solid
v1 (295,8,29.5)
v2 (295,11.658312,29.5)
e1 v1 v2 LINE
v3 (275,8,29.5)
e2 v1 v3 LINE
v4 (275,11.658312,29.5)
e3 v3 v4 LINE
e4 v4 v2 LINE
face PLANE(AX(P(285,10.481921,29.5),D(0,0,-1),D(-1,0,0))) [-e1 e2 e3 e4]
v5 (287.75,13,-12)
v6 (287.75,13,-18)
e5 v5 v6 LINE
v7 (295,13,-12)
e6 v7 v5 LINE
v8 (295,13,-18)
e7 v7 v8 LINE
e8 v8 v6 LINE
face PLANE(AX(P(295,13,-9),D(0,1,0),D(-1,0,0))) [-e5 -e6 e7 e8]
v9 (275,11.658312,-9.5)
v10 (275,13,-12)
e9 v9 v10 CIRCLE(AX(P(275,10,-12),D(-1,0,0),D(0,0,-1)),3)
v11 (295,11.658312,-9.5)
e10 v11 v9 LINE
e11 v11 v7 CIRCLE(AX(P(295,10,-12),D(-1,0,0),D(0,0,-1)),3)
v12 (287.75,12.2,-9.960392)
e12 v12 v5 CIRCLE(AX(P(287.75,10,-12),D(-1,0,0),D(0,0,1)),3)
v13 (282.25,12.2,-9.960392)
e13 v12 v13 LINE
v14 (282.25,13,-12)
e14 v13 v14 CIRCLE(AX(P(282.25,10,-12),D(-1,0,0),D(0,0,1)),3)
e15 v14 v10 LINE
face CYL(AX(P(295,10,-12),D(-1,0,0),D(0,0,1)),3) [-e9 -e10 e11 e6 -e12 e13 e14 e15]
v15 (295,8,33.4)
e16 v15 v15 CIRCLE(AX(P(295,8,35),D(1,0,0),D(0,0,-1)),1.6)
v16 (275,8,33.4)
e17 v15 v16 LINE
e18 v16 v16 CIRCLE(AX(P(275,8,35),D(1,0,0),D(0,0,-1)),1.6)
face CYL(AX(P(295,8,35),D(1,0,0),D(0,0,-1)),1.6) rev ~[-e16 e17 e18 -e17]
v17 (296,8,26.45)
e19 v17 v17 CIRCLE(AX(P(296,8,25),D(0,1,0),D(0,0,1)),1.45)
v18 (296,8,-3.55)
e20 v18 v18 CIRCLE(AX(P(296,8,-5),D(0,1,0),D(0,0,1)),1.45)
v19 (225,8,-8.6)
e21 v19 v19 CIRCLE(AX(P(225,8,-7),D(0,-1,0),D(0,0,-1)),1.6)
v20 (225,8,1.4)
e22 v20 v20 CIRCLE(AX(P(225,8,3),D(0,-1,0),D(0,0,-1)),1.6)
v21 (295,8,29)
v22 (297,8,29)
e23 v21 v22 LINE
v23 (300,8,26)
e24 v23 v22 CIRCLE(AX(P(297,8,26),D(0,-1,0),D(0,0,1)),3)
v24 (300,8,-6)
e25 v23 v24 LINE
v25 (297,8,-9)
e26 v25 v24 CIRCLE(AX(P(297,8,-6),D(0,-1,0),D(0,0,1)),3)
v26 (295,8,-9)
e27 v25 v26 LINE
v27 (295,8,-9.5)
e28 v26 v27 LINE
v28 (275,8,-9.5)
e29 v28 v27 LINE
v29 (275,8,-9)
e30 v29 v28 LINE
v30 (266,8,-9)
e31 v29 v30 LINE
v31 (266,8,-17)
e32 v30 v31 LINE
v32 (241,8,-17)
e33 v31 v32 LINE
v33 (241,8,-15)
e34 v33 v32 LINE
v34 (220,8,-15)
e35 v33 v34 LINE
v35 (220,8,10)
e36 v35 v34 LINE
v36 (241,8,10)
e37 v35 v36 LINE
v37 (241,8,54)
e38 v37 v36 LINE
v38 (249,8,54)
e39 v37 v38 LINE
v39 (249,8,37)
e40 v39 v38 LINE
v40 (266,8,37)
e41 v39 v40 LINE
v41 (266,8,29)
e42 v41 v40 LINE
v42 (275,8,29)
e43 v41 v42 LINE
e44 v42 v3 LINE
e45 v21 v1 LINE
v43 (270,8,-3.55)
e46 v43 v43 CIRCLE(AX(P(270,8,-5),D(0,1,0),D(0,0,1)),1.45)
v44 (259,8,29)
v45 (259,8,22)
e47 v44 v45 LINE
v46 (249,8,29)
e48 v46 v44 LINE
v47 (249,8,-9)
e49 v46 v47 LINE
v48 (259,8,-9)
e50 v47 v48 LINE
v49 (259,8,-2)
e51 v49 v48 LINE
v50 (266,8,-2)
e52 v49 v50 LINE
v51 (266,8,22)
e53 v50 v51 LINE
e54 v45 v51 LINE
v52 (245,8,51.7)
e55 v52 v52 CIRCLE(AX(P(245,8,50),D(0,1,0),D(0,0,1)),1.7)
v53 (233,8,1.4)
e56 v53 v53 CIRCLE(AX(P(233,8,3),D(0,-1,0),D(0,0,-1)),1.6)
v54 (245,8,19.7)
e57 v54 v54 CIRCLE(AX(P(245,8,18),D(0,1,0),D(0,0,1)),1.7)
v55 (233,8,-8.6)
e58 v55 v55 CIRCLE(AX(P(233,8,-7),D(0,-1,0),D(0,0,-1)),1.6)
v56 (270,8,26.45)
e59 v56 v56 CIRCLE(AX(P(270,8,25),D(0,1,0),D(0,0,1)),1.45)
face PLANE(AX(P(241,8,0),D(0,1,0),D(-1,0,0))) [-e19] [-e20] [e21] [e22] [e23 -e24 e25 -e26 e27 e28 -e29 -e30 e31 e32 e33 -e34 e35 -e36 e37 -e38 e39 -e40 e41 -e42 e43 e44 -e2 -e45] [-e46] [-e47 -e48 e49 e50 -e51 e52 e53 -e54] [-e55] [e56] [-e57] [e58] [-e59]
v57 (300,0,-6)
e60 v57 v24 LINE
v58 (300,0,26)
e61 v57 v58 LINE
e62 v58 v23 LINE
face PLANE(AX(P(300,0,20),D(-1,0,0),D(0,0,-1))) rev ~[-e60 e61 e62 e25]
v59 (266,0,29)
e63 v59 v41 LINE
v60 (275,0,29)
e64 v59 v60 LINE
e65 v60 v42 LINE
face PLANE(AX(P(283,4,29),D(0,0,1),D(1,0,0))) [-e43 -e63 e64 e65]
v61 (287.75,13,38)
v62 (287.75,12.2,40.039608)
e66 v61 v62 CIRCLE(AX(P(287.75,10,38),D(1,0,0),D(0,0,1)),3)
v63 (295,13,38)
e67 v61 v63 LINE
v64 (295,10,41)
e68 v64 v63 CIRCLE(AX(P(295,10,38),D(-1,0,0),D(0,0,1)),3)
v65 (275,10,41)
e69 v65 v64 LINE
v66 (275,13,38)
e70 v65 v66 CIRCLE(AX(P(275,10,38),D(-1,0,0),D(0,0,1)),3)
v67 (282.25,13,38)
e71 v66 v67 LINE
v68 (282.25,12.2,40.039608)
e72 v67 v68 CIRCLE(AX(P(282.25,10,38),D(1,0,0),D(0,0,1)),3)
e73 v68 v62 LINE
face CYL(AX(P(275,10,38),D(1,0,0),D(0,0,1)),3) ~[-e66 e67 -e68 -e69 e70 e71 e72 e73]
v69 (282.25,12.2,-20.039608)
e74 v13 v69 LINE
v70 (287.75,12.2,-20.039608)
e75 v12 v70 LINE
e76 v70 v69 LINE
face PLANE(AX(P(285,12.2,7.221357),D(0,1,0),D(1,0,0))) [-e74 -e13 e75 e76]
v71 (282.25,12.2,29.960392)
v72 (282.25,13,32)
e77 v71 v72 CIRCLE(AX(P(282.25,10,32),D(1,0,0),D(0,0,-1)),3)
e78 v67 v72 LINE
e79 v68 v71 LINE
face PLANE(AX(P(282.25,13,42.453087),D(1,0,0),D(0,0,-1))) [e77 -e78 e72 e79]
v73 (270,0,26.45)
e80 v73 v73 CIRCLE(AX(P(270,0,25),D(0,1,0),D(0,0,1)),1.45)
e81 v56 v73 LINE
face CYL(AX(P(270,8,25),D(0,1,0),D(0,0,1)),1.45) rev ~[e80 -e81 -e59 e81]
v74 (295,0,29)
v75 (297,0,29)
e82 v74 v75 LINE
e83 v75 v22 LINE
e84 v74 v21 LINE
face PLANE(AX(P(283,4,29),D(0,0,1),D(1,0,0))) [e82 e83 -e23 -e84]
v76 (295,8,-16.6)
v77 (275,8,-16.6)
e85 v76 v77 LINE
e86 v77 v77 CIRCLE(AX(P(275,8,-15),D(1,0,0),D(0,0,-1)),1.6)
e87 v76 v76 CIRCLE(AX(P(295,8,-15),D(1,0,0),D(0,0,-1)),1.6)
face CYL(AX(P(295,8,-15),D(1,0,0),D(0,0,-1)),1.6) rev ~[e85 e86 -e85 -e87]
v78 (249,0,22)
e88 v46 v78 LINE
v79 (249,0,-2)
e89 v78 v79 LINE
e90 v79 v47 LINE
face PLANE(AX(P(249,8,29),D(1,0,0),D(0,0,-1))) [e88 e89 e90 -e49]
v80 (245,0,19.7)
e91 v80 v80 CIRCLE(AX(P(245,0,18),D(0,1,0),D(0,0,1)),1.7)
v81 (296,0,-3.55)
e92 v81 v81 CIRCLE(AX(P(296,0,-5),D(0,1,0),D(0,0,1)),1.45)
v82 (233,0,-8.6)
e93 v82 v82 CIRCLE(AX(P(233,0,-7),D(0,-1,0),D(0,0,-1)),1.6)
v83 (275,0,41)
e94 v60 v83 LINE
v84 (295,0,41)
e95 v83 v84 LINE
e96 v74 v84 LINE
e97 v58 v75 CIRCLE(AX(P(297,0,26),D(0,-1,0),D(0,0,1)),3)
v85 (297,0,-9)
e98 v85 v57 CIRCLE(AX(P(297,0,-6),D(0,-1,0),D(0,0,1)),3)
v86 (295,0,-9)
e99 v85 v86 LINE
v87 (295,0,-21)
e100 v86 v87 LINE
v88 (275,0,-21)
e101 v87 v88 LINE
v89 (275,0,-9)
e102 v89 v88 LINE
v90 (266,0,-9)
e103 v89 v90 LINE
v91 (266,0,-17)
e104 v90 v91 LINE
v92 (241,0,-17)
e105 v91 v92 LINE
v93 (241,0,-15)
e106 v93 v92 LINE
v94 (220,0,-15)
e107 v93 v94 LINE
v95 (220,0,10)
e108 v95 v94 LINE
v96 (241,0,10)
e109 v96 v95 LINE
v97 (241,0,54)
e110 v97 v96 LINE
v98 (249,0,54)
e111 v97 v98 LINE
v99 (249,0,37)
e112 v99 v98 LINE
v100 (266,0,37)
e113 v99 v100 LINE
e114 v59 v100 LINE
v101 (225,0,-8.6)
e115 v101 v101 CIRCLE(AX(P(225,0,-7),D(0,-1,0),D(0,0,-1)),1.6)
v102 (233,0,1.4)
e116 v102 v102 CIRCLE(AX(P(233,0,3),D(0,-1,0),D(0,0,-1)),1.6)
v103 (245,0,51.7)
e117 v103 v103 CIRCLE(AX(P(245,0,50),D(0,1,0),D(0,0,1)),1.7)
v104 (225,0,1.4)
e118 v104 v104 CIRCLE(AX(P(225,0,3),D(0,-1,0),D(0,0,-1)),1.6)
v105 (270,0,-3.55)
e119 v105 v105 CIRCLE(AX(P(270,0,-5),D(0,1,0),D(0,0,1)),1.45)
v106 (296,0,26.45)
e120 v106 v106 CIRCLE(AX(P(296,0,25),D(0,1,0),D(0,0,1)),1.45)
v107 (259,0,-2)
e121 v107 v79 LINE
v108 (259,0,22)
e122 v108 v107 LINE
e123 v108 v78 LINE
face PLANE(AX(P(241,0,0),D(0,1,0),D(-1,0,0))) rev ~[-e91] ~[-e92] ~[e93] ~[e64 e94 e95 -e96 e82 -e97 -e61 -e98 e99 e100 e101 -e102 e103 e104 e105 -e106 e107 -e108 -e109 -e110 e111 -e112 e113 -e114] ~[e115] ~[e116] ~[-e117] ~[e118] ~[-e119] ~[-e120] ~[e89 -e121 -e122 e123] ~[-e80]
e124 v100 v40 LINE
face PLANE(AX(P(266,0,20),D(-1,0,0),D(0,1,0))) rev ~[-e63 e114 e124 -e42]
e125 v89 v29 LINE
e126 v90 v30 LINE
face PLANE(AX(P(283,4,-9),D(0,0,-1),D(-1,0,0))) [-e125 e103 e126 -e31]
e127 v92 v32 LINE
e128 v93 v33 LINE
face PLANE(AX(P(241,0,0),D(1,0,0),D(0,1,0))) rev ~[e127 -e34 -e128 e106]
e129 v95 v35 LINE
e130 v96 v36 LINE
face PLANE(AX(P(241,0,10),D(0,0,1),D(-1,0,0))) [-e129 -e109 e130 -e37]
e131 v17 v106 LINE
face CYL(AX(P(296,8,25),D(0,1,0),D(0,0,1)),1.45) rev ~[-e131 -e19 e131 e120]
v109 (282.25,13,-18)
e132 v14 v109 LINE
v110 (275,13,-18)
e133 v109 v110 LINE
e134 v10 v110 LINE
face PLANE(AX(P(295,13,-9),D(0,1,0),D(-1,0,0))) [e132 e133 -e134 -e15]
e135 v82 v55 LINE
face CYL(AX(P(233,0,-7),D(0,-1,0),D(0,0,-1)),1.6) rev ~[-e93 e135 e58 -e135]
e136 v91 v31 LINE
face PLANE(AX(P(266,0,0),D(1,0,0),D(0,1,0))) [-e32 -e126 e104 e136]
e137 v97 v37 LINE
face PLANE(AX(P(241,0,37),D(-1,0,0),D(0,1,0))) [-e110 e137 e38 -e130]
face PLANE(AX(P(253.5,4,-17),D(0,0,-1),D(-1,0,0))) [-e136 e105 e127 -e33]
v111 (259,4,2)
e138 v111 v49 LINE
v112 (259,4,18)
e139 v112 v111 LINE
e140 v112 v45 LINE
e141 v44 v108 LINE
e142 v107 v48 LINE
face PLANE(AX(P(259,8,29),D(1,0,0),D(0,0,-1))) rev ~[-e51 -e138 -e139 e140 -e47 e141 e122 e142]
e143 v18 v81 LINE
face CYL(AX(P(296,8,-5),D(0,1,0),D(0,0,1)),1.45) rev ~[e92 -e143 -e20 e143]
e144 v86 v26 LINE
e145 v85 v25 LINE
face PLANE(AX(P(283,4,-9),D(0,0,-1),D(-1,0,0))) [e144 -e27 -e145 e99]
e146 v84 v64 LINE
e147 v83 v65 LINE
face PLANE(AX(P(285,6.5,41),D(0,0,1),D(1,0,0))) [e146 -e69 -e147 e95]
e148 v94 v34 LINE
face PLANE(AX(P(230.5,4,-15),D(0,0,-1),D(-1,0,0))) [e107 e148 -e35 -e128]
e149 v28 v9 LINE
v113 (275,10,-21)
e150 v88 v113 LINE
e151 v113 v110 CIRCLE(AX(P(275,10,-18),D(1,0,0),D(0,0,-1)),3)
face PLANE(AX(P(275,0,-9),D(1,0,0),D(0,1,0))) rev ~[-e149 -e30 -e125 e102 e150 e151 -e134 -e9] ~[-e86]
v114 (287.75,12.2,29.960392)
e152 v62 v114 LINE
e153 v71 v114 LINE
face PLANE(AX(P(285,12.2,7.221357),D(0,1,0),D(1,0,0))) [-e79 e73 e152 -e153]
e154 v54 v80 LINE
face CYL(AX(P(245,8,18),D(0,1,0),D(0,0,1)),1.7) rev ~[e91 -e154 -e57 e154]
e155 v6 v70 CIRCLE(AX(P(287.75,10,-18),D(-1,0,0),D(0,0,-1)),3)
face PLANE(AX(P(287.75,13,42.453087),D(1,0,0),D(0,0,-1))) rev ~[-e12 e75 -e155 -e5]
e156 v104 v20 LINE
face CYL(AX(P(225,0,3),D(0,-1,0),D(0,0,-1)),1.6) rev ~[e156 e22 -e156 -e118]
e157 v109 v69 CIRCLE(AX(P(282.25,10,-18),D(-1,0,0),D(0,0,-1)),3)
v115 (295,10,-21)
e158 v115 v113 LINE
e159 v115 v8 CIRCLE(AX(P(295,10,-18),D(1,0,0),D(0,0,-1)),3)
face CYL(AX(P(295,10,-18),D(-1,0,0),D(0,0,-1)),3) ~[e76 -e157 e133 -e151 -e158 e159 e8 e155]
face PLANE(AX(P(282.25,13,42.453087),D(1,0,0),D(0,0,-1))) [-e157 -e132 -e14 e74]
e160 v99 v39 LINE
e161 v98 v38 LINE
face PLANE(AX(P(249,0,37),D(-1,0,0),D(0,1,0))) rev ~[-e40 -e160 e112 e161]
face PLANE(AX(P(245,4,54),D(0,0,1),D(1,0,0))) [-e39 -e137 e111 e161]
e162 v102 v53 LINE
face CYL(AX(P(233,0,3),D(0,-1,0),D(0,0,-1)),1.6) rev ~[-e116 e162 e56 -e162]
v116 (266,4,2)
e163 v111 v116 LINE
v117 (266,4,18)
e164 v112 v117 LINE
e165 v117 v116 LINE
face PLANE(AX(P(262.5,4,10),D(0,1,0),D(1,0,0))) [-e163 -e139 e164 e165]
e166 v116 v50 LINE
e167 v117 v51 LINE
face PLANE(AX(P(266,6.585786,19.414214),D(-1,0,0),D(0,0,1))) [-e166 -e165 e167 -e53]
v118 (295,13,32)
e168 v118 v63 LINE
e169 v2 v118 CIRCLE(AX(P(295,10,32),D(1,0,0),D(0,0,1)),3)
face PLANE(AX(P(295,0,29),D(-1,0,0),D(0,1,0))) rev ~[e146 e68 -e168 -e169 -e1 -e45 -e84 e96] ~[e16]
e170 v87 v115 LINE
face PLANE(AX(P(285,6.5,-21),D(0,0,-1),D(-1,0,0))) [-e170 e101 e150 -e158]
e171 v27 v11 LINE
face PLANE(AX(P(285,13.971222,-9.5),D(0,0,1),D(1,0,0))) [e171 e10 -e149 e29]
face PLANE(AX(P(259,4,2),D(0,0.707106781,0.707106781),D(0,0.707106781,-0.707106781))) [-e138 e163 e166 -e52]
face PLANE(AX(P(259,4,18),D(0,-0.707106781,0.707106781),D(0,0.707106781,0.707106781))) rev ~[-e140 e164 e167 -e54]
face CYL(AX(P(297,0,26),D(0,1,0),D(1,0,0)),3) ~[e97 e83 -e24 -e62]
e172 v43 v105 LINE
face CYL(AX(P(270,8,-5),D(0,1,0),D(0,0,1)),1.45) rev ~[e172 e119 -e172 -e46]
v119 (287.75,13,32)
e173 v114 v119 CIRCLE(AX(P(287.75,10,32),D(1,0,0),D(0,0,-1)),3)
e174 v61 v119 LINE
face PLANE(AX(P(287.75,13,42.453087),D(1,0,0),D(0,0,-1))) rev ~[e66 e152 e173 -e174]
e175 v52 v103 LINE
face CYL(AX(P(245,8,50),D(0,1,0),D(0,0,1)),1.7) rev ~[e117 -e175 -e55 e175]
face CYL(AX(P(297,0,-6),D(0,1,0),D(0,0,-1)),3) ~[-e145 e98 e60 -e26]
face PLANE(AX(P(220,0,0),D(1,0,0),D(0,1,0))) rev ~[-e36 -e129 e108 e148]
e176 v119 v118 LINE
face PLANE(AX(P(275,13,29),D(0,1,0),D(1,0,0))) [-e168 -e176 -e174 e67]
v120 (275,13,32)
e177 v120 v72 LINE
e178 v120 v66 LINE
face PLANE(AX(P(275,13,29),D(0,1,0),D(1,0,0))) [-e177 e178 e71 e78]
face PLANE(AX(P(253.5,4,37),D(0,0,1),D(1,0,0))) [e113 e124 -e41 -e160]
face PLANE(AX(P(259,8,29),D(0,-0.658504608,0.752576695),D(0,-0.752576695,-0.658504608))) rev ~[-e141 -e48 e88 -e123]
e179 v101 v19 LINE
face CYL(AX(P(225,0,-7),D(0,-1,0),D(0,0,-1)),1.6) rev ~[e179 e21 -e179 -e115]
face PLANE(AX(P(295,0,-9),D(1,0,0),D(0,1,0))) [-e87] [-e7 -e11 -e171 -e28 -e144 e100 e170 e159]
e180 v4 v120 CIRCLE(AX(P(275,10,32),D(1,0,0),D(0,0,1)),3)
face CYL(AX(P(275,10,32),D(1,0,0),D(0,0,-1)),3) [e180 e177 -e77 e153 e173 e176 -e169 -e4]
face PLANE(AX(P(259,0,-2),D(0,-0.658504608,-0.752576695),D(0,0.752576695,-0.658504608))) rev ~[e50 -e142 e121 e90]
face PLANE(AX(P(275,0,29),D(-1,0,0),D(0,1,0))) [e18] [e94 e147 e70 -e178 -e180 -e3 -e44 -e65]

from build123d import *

# Parameters (mm, degrees)
SKETCH1_W            = 300
SKETCH1_H            = 20
BOSS_EXTRUDE1_DEPTH  = 8
SKETCH2_W            = 34
SKETCH2_H            = 8
BOSS_EXTRUDE2_DEPTH  = 9
SKETCH3_W            = 34
SKETCH3_H            = 8
BOSS_EXTRUDE3_DEPTH  = 9
SKETCH4_R            = 1.45
CUT_EXTRUDE1_DEPTH   = 302.504560496
SKETCH5_W            = 25
SKETCH5_H            = 8
BOSS_EXTRUDE4_DEPTH  = 17
SKETCH6_W            = 25
SKETCH6_H            = 8
BOSS_EXTRUDE5_DEPTH  = 17
SKETCH7_W            = 10
SKETCH7_H            = 38
CUT_EXTRUDE2_DEPTH   = 303.37890138
SKETCH8_W            = 7
SKETCH8_H            = 16
CUT_EXTRUDE3_DEPTH   = 4
CUT_EXTRUDE4_DEPTH   = 7
BOSS_EXTRUDE6_DEPTH  = 10
SKETCH12_W           = 8
SKETCH12_H           = 8
BOSS_EXTRUDE7_DEPTH  = 17
SKETCH13_R           = 1.7
CUT_EXTRUDE6_DEPTH   = 305.926220585
SKETCH14_W           = 20
SKETCH14_H           = 13
BOSS_EXTRUDE8_DEPTH  = 12
SKETCH15_R           = 1.6
CUT_EXTRUDE7_DEPTH   = 20
SKETCH16_W           = 20
SKETCH16_H           = 13
BOSS_EXTRUDE9_DEPTH  = 12
SKETCH17_R           = 1.6
CUT_EXTRUDE8_DEPTH   = 20
SKETCH18_W           = 20
SKETCH18_H           = 13
BOSS_EXTRUDE10_DEPTH = 12
CUT_EXTRUDE9_START   = -20
SKETCH19_R           = 1.6
CUT_EXTRUDE9_DEPTH   = 20
SKETCH20_W           = 20
SKETCH20_H           = 13
BOSS_EXTRUDE11_DEPTH = 12
CUT_EXTRUDE10_START  = -20
SKETCH21_R           = 1.6
CUT_EXTRUDE10_DEPTH  = 20
FILLET6_R            = 3
SKETCH28_W           = 198.881436238
SKETCH28_H           = 556.355103816
CUT_EXTRUDE14_DEPTH  = 220
SKETCH29_W           = 21
SKETCH29_H           = 8
BOSS_EXTRUDE12_DEPTH = 15
SKETCH30_W           = 21
SKETCH30_H           = 10
CUT_EXTRUDE15_DEPTH  = 306.0983448
SKETCH31_R           = 1.6
CUT_EXTRUDE16_DEPTH  = 306.0983448
FILLET7_R            = 3
SKETCH32_W           = 5.5
SKETCH32_H           = 70.463459777
CUT_EXTRUDE17_DEPTH  = 0.8
SKETCH33_W           = 20
SKETCH33_H           = 4.963841857
CUT_EXTRUDE18_DEPTH  = 0.5
SKETCH34_W           = 20
SKETCH34_H           = 11.942443484
CUT_EXTRUDE19_DEPTH  = 0.5


with BuildPart() as part:
    # Sketch1 → Boss-Extrude1 (new body)
    with BuildSketch(Plane(origin=(0, 0, 0), x_dir=(1, 0, 0), z_dir=(0, 1, 0))):
        with Locations((150, -10)):
            Rectangle(SKETCH1_W, SKETCH1_H)
    extrude(amount=BOSS_EXTRUDE1_DEPTH)

    # Sketch2 → Boss-Extrude2 (add)
    with BuildSketch(Plane.XY.offset(20)):
        with Locations((17, 4)):
            Rectangle(SKETCH2_W, SKETCH2_H)
        with Locations((283, 4)):
            Rectangle(SKETCH2_W, SKETCH2_H)
    extrude(amount=BOSS_EXTRUDE2_DEPTH)

    # Sketch3 → Boss-Extrude3 (add)
    with BuildSketch(Plane(origin=(0, 0, 0), x_dir=(-1, 0, 0), z_dir=(0, 0, -1))):
        with Locations((-17, 4)):
            Rectangle(SKETCH3_W, SKETCH3_H)
        with Locations((-283, 4)):
            Rectangle(SKETCH3_W, SKETCH3_H)
    extrude(amount=BOSS_EXTRUDE3_DEPTH)

    # Sketch4 → Cut-Extrude1 (cut, through all)
    with BuildSketch(Plane(origin=(0, 8, 0), x_dir=(1, 0, 0), z_dir=(0, 1, 0))):
        with Locations(Location((4, 5, 0), (0, 0, 270))):
            Circle(SKETCH4_R)
        with Locations(Location((30, 5, 0), (0, 0, 270))):
            Circle(SKETCH4_R)
        with Locations(Location((30, -25, 0), (0, 0, 270))):
            Circle(SKETCH4_R)
        with Locations(Location((4, -25, 0), (0, 0, 270))):
            Circle(SKETCH4_R)
        with Locations(Location((296, -25, 0), (0, 0, 270))):
            Circle(SKETCH4_R)
        with Locations(Location((296, 5, 0), (0, 0, 270))):
            Circle(SKETCH4_R)
        with Locations(Location((270, -25, 0), (0, 0, 270))):
            Circle(SKETCH4_R)
        with Locations(Location((270, 5, 0), (0, 0, 270))):
            Circle(SKETCH4_R)
    extrude(amount=-CUT_EXTRUDE1_DEPTH, mode=Mode.SUBTRACT)

    # Sketch5 → Boss-Extrude4 (add)
    with BuildSketch(Plane.XY.offset(20)):
        with Locations((253.5, 4)):
            Rectangle(SKETCH5_W, SKETCH5_H)
    extrude(amount=BOSS_EXTRUDE4_DEPTH)

    # Sketch6 → Boss-Extrude5 (add)
    with BuildSketch(Plane(origin=(0, 0, 0), x_dir=(-1, 0, 0), z_dir=(0, 0, -1))):
        with Locations((-253.5, 4)):
            Rectangle(SKETCH6_W, SKETCH6_H)
    extrude(amount=BOSS_EXTRUDE5_DEPTH)

    # Sketch7 → Cut-Extrude2 (cut, through all)
    with BuildSketch(Plane(origin=(0, 8, 0), x_dir=(1, 0, 0), z_dir=(0, 1, 0))):
        with Locations((254, -10)):
            Rectangle(SKETCH7_W, SKETCH7_H)
    extrude(amount=-CUT_EXTRUDE2_DEPTH, mode=Mode.SUBTRACT)

    # Sketch8 → Cut-Extrude3 (cut)
    with BuildSketch(Plane(origin=(0, 8, 0), x_dir=(1, 0, 0), z_dir=(0, 1, 0))):
        with Locations((262.5, -10)):
            Rectangle(SKETCH8_W, SKETCH8_H)
    extrude(amount=-CUT_EXTRUDE3_DEPTH, mode=Mode.SUBTRACT)

    # Sketch9 → Cut-Extrude4 (cut)
    with BuildSketch(Plane.ZY.offset(-259)):
        Polygon((18, 4), (22, 8), (18, 8), align=None)
        Polygon((2, 4), (-2, 8), (2, 8), align=None)
    extrude(amount=-CUT_EXTRUDE4_DEPTH, mode=Mode.SUBTRACT)

    # Sketch10 → Boss-Extrude6 (add)
    with BuildSketch(Plane.ZY.offset(-259)):
        Polygon((-2, 0), (-9, 8), (-9, 0), align=None)
        Polygon((29, 8), (22, 0), (29, 0), align=None)
    extrude(amount=BOSS_EXTRUDE6_DEPTH)

    # Sketch12 → Boss-Extrude7 (add)
    with BuildSketch(Plane.XY.offset(37)):
        with Locations((245, 4)):
            Rectangle(SKETCH12_W, SKETCH12_H)
    extrude(amount=BOSS_EXTRUDE7_DEPTH)

    # Sketch13 → Cut-Extrude6 (cut, through all)
    with BuildSketch(Plane(origin=(0, 8, 0), x_dir=(1, 0, 0), z_dir=(0, 1, 0))):
        with Locations(Location((245, -50, 0), (0, 0, 270))):
            Circle(SKETCH13_R)
        with Locations(Location((245, -18, 0), (0, 0, 270))):
            Circle(SKETCH13_R)
    extrude(amount=-CUT_EXTRUDE6_DEPTH, mode=Mode.SUBTRACT)

    # Sketch14 → Boss-Extrude8 (add)
    with BuildSketch(Plane.XY.offset(29)):
        with Locations((285, 6.5)):
            Rectangle(SKETCH14_W, SKETCH14_H)
    extrude(amount=BOSS_EXTRUDE8_DEPTH)

    # Sketch15 → Cut-Extrude7 (cut)
    with BuildSketch(Plane(origin=(295, 0, 0), x_dir=(0, 0, -1), z_dir=(1, 0, 0))):
        with Locations((-35, 8)):
            Circle(SKETCH15_R)
    extrude(amount=-CUT_EXTRUDE7_DEPTH, mode=Mode.SUBTRACT)

    # Sketch16 → Boss-Extrude9 (add)
    with BuildSketch(Plane(origin=(0, 0, -9), x_dir=(-1, 0, 0), z_dir=(0, 0, -1))):
        with Locations((-285, 6.5)):
            Rectangle(SKETCH16_W, SKETCH16_H)
    extrude(amount=BOSS_EXTRUDE9_DEPTH)

    # Sketch17 → Cut-Extrude8 (cut)
    with BuildSketch(Plane(origin=(295, 0, 0), x_dir=(0, 0, -1), z_dir=(1, 0, 0))):
        with Locations((15, 8)):
            Circle(SKETCH17_R)
    extrude(amount=-CUT_EXTRUDE8_DEPTH, mode=Mode.SUBTRACT)

    # Sketch18 → Boss-Extrude10 (add)
    with BuildSketch(Plane(origin=(0, 0, -9), x_dir=(-1, 0, 0), z_dir=(0, 0, -1))):
        with Locations((-15, 6.5)):
            Rectangle(SKETCH18_W, SKETCH18_H)
    extrude(amount=BOSS_EXTRUDE10_DEPTH)

    # Sketch19 → Cut-Extrude9 (cut)
    with BuildSketch(Plane.ZY.offset(-5).offset(CUT_EXTRUDE9_START)):
        with Locations(Location((-15, 8, 0), (0, 0, 180))):
            Circle(SKETCH19_R)
    extrude(amount=CUT_EXTRUDE9_DEPTH, mode=Mode.SUBTRACT)

    # Sketch20 → Boss-Extrude11 (add)
    with BuildSketch(Plane.XY.offset(29)):
        with Locations((15, 6.5)):
            Rectangle(SKETCH20_W, SKETCH20_H)
    extrude(amount=BOSS_EXTRUDE11_DEPTH)

    # Sketch21 → Cut-Extrude10 (cut)
    with BuildSketch(Plane.ZY.offset(-5).offset(CUT_EXTRUDE10_START)):
        with Locations(Location((35, 8, 0), (0, 0, 180))):
            Circle(SKETCH21_R)
    extrude(amount=CUT_EXTRUDE10_DEPTH, mode=Mode.SUBTRACT)

    # Fillet6
    fillet6_edges = [part.edges().sort_by_distance(p)[0] for p in [
        (285, 13, 29),
        (285, 13, 41),
        (285, 13, -9),
        (285, 13, -21),
        (15, 13, -9),
        (15, 13, -21),
        (15, 13, 29),
        (15, 13, 41),
    ]]
    fillet(fillet6_edges, radius=FILLET6_R)

    # Sketch28 → Cut-Extrude14 (cut)
    with BuildSketch(Plane.ZY):
        with Locations((-20.495432896, -60.484201615)):
            Rectangle(SKETCH28_W, SKETCH28_H)
    extrude(amount=-CUT_EXTRUDE14_DEPTH, mode=Mode.SUBTRACT)

    # Sketch29 → Boss-Extrude12 (add)
    with BuildSketch(Plane(origin=(0, 0, 0), x_dir=(-1, 0, 0), z_dir=(0, 0, -1))):
        with Locations((-230.5, 4)):
            Rectangle(SKETCH29_W, SKETCH29_H)
    extrude(amount=BOSS_EXTRUDE12_DEPTH)

    # Sketch30 → Cut-Extrude15 (cut, through all)
    with BuildSketch(Plane(origin=(0, 0, 0), x_dir=(-1, 0, 0), z_dir=(0, -1, 0))):
        with Locations((-230.5, -15)):
            Rectangle(SKETCH30_W, SKETCH30_H)
    extrude(amount=-CUT_EXTRUDE15_DEPTH, mode=Mode.SUBTRACT)

    # Sketch31 → Cut-Extrude16 (cut, through all)
    with BuildSketch(Plane(origin=(0, 0, 0), x_dir=(-1, 0, 0), z_dir=(0, -1, 0))):
        with Locations(Location((-225, 7, 0), (0, 0, 90))):
            Circle(SKETCH31_R)
        with Locations(Location((-225, -3, 0), (0, 0, 90))):
            Circle(SKETCH31_R)
        with Locations(Location((-233, 7, 0), (0, 0, 90))):
            Circle(SKETCH31_R)
        with Locations(Location((-233, -3, 0), (0, 0, 90))):
            Circle(SKETCH31_R)
    extrude(amount=-CUT_EXTRUDE16_DEPTH, mode=Mode.SUBTRACT)

    # Fillet7
    fillet7_edges = [part.edges().sort_by_distance(p)[0] for p in [
        (300, 4, 29),
        (300, 4, -9),
    ]]
    fillet(fillet7_edges, radius=FILLET7_R)

    # Sketch32 → Cut-Extrude17 (cut)
    with BuildSketch(Plane(origin=(0, 13, 0), x_dir=(1, 0, 0), z_dir=(0, 1, 0))):
        with Locations((285, -7.2213573)):
            Rectangle(SKETCH32_W, SKETCH32_H)
    extrude(amount=-CUT_EXTRUDE17_DEPTH, mode=Mode.SUBTRACT)

    # Sketch33 → Cut-Extrude18 (cut)
    with BuildSketch(Plane(origin=(0, 0, 29), x_dir=(-1, 0, 0), z_dir=(0, 0, -1))):
        with Locations((-285, 10.481920928)):
            Rectangle(SKETCH33_W, SKETCH33_H)
    extrude(amount=-CUT_EXTRUDE18_DEPTH, mode=Mode.SUBTRACT)

    # Sketch34 → Cut-Extrude19 (cut)
    with BuildSketch(Plane.XY.offset(-9)):
        with Locations((285, 13.971221742)):
            Rectangle(SKETCH34_W, SKETCH34_H)
    extrude(amount=-CUT_EXTRUDE19_DEPTH, mode=Mode.SUBTRACT)


solid = part.part
